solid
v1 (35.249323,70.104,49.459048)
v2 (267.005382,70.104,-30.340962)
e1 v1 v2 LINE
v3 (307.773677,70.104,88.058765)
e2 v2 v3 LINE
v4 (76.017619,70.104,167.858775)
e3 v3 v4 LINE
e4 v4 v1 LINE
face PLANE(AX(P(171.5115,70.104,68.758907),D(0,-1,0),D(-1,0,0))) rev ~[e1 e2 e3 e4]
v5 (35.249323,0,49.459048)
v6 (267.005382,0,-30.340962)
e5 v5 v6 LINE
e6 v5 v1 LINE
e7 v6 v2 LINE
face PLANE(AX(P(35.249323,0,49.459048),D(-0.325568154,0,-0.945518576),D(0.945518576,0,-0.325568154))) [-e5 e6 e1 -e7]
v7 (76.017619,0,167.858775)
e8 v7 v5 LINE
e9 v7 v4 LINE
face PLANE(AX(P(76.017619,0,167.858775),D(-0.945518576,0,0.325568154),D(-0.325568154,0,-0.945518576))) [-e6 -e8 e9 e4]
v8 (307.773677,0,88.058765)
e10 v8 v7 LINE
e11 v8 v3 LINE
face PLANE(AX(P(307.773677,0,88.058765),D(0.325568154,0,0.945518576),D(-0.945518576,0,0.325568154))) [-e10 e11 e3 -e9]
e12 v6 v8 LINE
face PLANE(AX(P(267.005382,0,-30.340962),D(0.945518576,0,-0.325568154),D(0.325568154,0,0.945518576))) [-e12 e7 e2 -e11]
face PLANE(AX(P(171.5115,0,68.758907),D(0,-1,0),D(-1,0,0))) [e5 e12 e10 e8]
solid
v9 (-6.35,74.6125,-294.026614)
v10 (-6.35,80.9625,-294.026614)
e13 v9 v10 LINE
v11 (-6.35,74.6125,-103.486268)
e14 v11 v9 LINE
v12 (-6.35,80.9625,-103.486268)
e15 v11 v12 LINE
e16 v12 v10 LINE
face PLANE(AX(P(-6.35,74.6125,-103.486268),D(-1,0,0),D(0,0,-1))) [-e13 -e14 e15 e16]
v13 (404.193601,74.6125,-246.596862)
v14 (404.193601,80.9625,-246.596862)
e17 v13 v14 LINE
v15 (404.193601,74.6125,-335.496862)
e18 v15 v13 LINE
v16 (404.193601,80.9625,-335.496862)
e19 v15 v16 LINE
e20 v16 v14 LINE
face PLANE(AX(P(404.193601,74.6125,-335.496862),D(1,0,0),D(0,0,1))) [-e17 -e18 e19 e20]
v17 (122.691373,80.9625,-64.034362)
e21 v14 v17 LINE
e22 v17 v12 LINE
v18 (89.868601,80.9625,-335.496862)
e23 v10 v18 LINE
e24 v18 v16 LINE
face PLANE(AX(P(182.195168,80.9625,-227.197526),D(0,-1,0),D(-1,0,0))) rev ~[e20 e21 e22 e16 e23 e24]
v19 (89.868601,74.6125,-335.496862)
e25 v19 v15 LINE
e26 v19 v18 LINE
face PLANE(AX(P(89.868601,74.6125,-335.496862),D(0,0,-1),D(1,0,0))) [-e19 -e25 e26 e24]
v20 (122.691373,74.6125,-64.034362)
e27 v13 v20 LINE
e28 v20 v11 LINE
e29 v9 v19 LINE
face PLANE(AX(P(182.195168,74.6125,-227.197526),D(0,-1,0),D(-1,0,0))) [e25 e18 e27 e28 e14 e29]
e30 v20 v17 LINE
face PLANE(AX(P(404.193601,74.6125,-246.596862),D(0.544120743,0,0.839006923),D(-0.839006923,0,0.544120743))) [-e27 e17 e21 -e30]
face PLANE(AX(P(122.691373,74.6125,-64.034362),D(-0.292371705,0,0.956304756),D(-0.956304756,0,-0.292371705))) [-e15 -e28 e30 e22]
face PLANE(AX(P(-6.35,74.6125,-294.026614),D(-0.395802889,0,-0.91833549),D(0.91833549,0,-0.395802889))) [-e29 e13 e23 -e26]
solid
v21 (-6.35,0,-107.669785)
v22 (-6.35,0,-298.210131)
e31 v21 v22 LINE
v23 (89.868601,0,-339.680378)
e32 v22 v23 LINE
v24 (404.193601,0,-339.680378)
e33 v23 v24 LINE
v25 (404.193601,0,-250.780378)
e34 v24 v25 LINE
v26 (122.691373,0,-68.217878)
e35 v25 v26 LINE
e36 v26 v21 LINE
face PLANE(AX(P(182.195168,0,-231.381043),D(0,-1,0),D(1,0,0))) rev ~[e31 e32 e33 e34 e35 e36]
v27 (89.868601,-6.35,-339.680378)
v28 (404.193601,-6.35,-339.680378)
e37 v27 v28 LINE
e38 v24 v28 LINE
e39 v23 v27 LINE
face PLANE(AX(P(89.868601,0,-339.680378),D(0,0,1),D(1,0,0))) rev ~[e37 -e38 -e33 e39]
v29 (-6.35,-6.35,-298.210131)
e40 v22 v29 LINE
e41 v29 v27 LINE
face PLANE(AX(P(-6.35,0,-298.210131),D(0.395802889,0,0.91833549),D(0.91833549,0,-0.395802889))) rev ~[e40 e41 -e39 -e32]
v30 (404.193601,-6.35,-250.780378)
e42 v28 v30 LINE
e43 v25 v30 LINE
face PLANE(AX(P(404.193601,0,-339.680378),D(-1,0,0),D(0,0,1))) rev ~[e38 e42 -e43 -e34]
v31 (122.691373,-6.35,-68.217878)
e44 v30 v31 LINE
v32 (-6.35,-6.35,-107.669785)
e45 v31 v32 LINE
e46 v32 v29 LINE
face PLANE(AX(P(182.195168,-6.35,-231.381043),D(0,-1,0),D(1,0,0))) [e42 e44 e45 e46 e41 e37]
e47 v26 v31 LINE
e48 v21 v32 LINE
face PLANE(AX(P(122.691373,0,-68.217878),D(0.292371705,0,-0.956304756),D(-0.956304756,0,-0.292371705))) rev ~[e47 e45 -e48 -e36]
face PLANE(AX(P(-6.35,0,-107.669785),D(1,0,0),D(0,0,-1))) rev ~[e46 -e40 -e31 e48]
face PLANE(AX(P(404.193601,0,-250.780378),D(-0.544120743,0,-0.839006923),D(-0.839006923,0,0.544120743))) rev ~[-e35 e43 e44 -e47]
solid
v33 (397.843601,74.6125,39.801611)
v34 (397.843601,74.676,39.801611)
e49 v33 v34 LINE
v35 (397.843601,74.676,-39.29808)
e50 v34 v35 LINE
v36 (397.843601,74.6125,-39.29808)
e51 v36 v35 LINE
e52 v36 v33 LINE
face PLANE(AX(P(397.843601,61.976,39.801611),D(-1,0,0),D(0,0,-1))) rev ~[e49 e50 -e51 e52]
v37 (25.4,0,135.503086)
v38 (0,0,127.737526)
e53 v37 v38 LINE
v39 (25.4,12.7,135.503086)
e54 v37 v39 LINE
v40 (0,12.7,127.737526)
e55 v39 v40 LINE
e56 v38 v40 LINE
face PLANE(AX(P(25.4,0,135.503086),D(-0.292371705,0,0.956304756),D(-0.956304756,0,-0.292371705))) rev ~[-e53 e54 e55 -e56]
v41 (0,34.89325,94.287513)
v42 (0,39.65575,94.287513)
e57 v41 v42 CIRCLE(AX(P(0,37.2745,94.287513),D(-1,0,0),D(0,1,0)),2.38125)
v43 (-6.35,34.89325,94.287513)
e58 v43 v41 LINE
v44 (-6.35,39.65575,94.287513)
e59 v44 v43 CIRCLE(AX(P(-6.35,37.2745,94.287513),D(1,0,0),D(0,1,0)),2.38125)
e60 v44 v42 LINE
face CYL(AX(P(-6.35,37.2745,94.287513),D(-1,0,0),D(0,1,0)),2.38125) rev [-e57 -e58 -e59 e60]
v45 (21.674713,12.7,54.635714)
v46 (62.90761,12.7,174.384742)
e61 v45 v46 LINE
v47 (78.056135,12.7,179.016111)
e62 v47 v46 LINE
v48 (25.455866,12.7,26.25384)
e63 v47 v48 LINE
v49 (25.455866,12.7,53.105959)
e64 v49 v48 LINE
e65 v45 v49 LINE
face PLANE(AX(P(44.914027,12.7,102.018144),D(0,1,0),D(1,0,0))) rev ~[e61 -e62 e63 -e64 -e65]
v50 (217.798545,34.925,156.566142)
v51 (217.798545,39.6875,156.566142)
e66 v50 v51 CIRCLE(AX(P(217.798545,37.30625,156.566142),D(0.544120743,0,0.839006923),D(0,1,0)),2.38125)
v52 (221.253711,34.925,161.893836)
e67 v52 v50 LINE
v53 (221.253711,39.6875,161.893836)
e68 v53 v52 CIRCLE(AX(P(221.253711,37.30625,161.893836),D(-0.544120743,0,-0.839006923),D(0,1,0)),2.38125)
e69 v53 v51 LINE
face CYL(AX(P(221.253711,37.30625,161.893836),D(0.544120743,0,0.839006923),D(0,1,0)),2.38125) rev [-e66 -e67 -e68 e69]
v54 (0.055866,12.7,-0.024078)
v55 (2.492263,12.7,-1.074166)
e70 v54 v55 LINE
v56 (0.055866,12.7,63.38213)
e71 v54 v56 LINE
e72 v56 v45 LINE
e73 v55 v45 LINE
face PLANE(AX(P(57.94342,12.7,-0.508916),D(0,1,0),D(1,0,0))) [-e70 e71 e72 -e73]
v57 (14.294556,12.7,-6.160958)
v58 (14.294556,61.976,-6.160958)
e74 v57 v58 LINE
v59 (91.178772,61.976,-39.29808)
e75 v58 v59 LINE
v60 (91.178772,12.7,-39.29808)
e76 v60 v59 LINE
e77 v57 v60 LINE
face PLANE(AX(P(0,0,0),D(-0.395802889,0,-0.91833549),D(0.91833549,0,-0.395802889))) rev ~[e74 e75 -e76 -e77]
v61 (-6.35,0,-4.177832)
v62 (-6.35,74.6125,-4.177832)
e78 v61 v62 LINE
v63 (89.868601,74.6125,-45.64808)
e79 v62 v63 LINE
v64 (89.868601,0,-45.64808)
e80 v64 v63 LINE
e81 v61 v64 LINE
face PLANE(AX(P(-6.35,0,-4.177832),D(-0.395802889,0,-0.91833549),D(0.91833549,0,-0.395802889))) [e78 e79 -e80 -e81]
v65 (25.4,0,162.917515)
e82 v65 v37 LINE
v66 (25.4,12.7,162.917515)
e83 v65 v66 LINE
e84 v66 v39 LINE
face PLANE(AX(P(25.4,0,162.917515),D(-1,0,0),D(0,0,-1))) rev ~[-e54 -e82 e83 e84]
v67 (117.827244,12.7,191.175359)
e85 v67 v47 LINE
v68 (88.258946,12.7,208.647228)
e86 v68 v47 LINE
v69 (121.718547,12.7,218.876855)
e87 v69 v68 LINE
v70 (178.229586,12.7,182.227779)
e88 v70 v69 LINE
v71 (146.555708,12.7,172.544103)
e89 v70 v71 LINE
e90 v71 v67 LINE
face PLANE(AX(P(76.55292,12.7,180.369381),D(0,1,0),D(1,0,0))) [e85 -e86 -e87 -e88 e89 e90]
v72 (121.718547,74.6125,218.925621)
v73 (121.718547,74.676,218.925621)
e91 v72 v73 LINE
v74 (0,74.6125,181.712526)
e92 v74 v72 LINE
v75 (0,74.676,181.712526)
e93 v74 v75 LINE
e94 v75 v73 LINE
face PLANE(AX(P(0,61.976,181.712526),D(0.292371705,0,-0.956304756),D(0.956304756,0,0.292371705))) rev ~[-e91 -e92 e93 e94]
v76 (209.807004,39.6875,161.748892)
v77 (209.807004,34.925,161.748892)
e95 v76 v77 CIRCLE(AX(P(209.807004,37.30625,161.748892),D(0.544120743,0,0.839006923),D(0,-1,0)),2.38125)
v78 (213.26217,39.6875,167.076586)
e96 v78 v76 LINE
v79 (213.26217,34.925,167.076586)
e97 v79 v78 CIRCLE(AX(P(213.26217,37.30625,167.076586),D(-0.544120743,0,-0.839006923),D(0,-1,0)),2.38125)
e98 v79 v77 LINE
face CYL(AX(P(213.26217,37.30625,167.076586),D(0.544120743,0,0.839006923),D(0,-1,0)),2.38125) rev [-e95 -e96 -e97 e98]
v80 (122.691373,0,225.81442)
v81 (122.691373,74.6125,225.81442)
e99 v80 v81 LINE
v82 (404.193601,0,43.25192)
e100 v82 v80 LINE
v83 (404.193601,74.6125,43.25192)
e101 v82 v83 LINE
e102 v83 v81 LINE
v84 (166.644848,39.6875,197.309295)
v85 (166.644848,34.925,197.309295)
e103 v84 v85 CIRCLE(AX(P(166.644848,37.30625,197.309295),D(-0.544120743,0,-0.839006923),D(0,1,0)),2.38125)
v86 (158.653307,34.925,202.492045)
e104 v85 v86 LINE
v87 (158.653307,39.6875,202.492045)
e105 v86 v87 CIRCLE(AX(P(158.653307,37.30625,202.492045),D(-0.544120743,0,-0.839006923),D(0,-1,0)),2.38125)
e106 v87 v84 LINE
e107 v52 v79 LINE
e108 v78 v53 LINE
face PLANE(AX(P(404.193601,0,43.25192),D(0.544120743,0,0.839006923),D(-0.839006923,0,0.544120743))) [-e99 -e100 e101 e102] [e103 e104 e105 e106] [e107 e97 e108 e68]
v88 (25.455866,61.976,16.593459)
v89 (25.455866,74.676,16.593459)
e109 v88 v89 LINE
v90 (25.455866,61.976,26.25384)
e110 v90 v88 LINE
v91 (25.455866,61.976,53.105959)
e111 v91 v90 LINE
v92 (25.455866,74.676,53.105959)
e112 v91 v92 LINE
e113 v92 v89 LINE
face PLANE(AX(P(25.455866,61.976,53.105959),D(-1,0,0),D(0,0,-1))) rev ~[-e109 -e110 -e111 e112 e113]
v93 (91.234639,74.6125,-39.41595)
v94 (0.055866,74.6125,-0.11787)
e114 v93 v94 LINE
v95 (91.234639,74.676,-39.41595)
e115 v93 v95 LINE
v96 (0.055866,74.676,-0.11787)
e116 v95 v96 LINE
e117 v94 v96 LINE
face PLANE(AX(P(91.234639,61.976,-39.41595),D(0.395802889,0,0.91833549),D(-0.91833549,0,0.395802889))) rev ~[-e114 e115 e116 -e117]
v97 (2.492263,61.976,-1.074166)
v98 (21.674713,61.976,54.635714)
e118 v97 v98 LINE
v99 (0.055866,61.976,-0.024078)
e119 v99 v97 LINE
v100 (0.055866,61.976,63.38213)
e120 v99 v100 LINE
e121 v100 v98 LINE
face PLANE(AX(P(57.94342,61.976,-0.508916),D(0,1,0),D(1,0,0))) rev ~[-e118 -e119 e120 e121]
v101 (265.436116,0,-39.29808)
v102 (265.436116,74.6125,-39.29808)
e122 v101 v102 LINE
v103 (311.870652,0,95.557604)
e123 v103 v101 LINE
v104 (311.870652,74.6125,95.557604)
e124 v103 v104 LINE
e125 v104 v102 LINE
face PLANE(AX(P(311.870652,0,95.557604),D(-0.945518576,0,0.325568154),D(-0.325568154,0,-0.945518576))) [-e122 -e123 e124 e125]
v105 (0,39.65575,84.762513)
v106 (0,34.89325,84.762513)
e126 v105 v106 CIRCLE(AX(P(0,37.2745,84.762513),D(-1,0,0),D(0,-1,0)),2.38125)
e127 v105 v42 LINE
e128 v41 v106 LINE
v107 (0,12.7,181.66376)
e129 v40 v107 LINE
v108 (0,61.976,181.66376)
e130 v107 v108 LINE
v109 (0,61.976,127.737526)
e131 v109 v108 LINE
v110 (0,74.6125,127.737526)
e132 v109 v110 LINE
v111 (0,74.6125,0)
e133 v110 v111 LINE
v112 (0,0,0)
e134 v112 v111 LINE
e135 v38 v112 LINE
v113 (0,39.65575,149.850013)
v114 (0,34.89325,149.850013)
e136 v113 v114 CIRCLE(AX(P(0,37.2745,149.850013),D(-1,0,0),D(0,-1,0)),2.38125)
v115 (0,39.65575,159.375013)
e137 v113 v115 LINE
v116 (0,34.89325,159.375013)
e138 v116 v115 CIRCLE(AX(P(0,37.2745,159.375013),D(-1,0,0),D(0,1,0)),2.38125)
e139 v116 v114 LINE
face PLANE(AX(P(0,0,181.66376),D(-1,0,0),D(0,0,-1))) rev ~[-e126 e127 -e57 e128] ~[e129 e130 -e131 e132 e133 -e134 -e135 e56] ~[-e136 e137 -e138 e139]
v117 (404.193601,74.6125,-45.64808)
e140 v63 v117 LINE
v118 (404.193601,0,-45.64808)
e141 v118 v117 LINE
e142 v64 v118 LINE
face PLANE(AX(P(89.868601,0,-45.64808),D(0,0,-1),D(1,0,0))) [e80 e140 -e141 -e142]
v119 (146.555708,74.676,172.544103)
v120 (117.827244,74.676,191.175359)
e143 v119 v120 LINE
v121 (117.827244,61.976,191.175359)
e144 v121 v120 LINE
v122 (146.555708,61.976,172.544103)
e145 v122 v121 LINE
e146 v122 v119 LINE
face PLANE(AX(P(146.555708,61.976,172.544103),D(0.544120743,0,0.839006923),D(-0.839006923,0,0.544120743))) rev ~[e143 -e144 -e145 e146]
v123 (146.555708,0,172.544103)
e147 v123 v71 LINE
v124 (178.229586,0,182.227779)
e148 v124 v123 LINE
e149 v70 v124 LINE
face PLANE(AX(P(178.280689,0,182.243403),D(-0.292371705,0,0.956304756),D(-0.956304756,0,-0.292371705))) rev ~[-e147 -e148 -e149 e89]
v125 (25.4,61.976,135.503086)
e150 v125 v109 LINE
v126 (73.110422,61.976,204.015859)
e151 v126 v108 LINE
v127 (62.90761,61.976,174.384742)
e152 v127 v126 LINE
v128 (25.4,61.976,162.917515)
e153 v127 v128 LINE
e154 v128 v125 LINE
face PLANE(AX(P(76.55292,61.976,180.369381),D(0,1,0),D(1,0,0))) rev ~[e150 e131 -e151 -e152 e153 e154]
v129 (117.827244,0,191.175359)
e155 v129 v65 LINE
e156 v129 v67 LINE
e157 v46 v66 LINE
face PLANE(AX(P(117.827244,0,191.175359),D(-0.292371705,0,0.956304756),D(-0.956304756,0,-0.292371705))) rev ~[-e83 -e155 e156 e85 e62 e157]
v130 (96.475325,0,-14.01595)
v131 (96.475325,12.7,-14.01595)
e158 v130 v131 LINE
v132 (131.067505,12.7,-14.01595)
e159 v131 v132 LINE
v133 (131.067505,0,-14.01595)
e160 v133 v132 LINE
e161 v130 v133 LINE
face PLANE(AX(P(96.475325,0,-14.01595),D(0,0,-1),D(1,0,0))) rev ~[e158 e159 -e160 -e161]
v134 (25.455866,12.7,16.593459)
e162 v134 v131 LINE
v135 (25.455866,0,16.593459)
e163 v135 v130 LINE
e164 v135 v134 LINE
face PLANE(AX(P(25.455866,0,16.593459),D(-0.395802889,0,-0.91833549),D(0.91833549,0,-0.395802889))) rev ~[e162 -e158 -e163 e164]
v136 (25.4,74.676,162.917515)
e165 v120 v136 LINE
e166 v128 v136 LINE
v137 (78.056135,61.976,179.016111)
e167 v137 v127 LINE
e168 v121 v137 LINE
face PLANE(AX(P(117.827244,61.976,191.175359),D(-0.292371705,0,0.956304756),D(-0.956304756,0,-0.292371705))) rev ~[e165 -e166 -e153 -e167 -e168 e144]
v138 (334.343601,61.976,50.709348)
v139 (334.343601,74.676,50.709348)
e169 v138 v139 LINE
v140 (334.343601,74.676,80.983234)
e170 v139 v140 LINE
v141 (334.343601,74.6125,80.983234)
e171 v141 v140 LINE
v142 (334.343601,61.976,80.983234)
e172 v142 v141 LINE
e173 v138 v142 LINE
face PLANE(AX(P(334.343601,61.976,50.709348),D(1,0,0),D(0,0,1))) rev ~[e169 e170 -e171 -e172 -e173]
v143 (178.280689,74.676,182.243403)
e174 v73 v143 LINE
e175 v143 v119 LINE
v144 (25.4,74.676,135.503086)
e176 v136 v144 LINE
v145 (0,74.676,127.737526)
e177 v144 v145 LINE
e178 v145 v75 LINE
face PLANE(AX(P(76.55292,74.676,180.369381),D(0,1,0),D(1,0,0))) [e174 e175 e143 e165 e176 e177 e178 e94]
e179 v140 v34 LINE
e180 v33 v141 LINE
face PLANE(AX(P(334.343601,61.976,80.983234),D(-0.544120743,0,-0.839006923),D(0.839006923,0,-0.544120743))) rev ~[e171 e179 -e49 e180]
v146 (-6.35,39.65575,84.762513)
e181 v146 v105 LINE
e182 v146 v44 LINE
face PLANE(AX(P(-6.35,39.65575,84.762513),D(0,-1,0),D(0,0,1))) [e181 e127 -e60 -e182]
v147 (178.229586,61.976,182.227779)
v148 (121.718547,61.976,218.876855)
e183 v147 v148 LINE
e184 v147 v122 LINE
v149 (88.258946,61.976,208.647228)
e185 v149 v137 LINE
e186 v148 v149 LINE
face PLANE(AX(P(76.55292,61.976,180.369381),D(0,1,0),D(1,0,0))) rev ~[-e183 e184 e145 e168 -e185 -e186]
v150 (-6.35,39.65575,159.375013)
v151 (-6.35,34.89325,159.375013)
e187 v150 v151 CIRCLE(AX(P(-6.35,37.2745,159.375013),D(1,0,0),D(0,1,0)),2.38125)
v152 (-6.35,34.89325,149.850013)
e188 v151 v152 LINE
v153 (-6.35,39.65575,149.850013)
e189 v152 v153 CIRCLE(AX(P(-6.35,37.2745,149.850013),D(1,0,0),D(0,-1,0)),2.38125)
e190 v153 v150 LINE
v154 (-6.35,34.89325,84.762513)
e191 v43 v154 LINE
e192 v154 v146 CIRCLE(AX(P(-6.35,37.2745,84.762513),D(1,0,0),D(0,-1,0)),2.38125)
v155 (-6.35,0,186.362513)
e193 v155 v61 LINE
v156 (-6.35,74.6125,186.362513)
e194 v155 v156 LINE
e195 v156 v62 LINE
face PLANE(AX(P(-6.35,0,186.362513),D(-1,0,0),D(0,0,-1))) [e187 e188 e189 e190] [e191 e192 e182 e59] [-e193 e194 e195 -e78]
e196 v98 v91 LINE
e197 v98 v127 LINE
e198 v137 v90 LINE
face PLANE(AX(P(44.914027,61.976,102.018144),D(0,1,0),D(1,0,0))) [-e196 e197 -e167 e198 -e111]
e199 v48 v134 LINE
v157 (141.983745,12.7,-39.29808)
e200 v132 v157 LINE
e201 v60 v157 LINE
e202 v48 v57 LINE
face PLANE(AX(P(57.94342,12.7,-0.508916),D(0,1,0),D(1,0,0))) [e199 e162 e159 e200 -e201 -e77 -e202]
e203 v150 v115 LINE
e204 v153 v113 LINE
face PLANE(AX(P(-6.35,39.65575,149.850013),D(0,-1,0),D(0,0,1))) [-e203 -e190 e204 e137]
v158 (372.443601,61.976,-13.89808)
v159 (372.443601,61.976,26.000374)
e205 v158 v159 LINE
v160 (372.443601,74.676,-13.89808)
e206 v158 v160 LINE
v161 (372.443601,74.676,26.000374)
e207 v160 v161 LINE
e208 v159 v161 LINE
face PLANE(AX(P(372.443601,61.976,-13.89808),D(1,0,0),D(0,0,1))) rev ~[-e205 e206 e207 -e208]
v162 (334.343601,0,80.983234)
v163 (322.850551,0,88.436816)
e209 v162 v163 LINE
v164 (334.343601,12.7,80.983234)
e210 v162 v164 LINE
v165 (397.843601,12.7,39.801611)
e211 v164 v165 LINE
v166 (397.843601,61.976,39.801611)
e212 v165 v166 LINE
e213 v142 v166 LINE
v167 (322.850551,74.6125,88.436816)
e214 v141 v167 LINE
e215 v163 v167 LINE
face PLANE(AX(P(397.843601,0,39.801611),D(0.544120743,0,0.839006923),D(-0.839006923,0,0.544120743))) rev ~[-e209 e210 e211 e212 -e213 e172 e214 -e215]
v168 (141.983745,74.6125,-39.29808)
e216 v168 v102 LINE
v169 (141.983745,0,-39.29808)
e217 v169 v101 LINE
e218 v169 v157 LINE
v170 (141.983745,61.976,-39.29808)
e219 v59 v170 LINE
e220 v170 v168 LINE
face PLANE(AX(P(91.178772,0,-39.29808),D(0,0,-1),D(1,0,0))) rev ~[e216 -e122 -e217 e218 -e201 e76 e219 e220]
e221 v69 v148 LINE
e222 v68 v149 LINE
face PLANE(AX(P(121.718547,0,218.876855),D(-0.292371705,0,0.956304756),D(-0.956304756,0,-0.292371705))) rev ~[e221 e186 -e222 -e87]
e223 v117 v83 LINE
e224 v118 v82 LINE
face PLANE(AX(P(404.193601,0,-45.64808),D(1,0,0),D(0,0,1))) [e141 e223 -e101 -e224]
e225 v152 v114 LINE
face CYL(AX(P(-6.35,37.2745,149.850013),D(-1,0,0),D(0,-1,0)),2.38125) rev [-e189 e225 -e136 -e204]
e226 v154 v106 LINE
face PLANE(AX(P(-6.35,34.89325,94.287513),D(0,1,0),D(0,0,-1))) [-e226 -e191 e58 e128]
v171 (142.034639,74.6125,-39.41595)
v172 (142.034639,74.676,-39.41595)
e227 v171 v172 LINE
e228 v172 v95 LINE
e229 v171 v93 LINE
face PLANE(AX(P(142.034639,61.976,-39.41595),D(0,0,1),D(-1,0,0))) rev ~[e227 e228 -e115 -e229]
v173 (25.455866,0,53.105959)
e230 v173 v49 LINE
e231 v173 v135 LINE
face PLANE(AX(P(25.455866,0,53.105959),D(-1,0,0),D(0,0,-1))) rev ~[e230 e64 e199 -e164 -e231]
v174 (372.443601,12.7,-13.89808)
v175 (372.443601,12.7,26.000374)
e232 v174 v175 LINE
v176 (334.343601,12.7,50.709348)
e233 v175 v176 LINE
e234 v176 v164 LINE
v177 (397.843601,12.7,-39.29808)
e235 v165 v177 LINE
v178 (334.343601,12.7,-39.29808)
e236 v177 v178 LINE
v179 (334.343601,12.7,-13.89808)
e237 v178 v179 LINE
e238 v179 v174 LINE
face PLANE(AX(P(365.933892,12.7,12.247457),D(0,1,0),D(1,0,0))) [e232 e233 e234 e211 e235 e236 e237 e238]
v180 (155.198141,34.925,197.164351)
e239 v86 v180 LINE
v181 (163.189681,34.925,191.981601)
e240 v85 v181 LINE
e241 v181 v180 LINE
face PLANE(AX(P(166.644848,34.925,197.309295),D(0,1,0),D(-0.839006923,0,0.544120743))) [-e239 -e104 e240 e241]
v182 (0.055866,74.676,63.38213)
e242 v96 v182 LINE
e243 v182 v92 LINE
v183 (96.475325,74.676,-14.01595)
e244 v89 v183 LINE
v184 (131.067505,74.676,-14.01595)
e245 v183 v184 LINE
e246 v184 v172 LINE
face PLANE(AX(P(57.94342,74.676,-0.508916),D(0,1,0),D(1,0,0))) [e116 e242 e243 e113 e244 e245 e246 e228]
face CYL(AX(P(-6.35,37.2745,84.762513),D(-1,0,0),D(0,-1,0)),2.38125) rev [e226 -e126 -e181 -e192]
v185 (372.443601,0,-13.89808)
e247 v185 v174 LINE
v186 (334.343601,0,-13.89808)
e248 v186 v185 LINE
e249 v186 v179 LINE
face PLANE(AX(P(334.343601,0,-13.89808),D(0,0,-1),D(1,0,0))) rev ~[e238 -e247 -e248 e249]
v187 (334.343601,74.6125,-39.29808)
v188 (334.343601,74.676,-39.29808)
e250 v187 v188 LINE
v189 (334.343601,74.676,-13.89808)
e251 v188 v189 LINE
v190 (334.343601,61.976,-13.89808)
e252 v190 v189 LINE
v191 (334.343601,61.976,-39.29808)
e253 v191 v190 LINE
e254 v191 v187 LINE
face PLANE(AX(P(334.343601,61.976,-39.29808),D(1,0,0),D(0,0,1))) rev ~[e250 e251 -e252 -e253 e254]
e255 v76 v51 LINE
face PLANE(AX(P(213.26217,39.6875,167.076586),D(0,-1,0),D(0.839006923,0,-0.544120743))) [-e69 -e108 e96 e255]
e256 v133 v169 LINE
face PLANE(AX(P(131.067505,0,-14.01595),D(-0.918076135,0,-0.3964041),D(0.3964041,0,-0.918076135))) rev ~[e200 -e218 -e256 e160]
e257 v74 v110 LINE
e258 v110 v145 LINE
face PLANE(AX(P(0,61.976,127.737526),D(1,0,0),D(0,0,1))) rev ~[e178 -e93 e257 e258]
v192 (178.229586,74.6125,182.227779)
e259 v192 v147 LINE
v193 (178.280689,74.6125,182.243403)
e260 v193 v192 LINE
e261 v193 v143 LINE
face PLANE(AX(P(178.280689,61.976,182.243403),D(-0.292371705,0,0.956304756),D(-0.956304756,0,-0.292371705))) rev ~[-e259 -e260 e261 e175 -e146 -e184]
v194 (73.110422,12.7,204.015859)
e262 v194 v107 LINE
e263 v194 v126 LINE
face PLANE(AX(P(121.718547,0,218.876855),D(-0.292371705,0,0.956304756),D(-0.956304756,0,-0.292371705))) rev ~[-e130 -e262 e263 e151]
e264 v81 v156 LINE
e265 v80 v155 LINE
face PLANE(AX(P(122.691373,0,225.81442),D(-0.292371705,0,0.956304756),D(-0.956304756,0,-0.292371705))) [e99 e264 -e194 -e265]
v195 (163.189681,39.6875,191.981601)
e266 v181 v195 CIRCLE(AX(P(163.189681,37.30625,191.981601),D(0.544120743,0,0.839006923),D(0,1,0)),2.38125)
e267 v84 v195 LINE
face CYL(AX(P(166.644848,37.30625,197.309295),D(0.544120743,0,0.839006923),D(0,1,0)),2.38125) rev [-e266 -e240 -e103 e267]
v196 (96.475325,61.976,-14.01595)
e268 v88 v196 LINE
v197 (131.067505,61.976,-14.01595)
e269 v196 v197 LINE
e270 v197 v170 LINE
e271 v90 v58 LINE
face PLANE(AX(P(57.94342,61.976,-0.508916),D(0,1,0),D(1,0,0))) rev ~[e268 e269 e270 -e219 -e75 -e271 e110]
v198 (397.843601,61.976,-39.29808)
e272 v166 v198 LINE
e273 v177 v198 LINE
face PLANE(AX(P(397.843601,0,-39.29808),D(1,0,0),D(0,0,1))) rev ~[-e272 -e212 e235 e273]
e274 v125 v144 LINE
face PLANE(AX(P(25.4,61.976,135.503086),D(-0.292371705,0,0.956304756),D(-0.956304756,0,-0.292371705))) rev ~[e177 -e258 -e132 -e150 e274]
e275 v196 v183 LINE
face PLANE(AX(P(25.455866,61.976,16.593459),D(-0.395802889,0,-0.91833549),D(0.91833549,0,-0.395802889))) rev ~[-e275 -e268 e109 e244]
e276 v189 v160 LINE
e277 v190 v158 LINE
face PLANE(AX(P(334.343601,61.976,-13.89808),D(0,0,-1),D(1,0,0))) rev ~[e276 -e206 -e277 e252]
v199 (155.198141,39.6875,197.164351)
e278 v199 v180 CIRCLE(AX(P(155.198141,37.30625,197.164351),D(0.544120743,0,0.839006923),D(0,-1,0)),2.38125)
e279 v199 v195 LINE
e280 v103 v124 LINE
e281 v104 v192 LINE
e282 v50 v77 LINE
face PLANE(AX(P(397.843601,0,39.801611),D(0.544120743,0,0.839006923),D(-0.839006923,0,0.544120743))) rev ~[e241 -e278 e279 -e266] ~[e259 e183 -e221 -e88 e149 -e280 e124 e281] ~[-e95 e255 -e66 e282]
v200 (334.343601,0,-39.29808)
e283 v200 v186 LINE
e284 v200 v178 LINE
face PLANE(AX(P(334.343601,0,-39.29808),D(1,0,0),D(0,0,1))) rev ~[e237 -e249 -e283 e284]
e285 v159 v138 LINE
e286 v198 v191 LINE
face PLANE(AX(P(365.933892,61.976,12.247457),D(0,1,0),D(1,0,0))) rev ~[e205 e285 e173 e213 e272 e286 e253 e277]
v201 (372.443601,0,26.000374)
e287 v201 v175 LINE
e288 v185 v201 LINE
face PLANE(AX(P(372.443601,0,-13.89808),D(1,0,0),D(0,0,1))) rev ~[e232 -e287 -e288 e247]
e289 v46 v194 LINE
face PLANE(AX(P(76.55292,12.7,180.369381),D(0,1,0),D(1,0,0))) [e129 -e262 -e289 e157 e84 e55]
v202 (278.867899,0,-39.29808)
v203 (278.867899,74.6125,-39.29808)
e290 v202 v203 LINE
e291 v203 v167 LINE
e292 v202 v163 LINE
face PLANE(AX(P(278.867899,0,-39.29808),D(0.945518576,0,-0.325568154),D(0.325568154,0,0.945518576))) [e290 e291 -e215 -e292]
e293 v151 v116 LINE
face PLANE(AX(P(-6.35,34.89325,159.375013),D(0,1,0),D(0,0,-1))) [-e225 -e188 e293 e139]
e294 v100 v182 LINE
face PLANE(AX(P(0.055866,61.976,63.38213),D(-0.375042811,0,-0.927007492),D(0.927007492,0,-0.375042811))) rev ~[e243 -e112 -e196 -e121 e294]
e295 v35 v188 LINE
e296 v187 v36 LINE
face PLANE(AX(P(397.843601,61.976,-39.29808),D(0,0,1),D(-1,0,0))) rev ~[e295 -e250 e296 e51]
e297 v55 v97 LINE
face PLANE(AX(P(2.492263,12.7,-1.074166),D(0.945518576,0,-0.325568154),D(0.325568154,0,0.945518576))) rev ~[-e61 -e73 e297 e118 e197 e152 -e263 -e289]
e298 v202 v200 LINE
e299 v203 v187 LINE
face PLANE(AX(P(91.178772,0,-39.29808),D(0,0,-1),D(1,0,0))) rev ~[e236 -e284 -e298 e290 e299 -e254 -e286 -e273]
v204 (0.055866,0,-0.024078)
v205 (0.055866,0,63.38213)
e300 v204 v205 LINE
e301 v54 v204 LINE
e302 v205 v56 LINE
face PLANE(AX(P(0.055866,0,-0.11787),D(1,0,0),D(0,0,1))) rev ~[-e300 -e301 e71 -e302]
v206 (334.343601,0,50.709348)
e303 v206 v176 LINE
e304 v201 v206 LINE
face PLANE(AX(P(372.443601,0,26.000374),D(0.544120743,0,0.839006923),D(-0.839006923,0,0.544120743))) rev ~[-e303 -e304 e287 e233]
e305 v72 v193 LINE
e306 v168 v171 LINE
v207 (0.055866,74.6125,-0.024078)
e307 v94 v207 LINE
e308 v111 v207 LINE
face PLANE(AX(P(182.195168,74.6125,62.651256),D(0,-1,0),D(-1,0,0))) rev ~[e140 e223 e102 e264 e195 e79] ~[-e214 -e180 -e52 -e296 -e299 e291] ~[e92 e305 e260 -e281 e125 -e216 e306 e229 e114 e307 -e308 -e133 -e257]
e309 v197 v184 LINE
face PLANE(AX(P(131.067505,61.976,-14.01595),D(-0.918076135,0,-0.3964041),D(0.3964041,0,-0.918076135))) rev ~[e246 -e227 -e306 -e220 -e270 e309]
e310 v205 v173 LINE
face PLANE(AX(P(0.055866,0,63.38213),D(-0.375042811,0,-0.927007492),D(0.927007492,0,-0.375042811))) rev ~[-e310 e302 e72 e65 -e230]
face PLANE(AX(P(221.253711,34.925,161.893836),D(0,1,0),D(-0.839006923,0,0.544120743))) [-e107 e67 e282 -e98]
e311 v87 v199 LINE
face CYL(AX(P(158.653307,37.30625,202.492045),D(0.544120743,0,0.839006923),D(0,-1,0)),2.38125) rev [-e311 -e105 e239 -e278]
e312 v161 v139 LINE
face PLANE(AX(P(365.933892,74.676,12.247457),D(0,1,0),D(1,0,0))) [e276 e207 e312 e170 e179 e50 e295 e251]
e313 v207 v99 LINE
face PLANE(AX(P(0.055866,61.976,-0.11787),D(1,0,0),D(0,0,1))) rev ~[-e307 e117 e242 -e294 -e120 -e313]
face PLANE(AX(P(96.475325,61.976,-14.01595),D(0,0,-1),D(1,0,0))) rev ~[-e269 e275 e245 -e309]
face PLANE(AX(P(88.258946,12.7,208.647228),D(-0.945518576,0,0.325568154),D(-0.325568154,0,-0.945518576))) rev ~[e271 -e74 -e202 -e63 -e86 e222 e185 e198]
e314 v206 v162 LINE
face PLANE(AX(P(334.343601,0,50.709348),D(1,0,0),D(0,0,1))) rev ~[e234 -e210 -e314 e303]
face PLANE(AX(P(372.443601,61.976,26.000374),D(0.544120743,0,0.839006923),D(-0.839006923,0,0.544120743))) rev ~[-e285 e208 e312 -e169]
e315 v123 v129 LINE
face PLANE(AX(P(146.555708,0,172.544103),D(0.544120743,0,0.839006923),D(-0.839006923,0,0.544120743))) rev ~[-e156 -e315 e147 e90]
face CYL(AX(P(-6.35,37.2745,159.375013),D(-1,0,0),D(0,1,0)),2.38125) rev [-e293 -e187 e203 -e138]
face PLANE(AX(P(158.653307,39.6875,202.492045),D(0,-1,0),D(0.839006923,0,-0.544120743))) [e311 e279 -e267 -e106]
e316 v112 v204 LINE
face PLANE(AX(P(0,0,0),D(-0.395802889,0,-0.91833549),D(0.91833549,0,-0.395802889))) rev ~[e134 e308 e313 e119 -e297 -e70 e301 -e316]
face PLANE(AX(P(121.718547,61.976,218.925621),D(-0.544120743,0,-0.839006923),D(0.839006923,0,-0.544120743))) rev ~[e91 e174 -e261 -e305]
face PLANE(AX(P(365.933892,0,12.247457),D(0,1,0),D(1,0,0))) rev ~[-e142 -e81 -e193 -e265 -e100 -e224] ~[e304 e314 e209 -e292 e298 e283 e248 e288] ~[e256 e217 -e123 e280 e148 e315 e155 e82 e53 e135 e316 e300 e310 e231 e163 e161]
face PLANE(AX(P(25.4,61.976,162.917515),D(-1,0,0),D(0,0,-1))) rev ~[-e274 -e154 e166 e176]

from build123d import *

# Parameters (mm, degrees)
BOSS_EXTRUDE1_DEPTH = 74.6125
BOSS_EXTRUDE2_DEPTH = 70.104
BOSS_EXTRUDE3_DEPTH = 12.7
BOSS_EXTRUDE4_DEPTH = 12.7
BOSS_EXTRUDE5_DEPTH = 12.7
LPATTERN2_COUNT     = 2
LPATTERN2_PITCH     = 61.976
LPATTERN3_COUNT     = 2
LPATTERN3_PITCH     = 61.976
LPATTERN4_COUNT     = 2
LPATTERN4_PITCH     = 61.976
CUT_EXTRUDE1_DEPTH  = 6.604
CUT_EXTRUDE2_DEPTH  = 6.604
BOSS_EXTRUDE6_DEPTH = 74.6125
BOSS_EXTRUDE7_DEPTH = 49.276
BOSS_EXTRUDE8_DEPTH = 6.35
BOSS_EXTRUDE9_DEPTH = 6.35


with BuildPart() as part:
    # Sketch1 → Boss-Extrude1 (new body)
    with BuildSketch(Plane(origin=(0, 0, 0), x_dir=(1, 0, 0), z_dir=(0, 1, 0))):
        Polygon((89.868600995, 45.648080015), (404.193600995, 45.648080015), (404.193600995, -43.251919985), (122.691373008, -225.814419985), (-6.35, -186.362513079), (-6.35, 4.177832277), align=None)
        Polygon((0, 0), (91.178772423, 39.298080015), (397.843600995, 39.298080015), (397.843600995, -39.801610813), (121.718547276, -218.876854657), (0, -181.663760252), align=None, mode=Mode.SUBTRACT)
    extrude(amount=BOSS_EXTRUDE1_DEPTH)

    # Sketch6 → Boss-Extrude3 (add)
    with BuildSketch(Plane(origin=(-0.579421474, 0, -0.117869918), x_dir=(1, 0, 0), z_dir=(0, 1, 0))):
        Polygon((91.814060346, 39.298080015), (0.635287923, 0), (0.635287923, -63.5), (26.035287923, -53.223829107), (26.035287923, -16.711329107), (97.054746056, 13.898080015), (131.646926177, 13.898080015), (142.614060346, 39.298080015), align=None)
    boss_extrude3 = extrude(amount=BOSS_EXTRUDE3_DEPTH)

    # Sketch8 → Boss-Extrude4 (add)
    with BuildSketch(Plane(origin=(0, 0, -81.231233885), x_dir=(1, 0, 0), z_dir=(0, 1, 0))):
        Polygon((0, -262.943760252), (121.718547276, -300.156854657), (178.280689217, -263.474636858), (146.55570838, -253.775336847), (117.827244348, -272.406593346), (25.4, -244.148748947), (25.4, -216.734319561), (0, -208.968760252), align=None)
    boss_extrude4 = extrude(amount=BOSS_EXTRUDE4_DEPTH)

    # Sketch9 → Boss-Extrude5 (add)
    with BuildSketch(Plane(origin=(0, 0, 0), x_dir=(1, 0, 0), z_dir=(0, 1, 0))):
        Polygon((397.843600995, 39.298080015), (334.343600995, 39.298080015), (334.343600995, 13.898080015), (372.443600995, 13.898080015), (372.443600995, -26.000374123), (334.343600995, -50.709348186), (334.343600995, -80.983234251), (397.843600995, -39.801610813), align=None)
    boss_extrude5 = extrude(amount=BOSS_EXTRUDE5_DEPTH)

    # LPattern2: Boss-Extrude3 ×2
    with Locations(*[(0, i * LPATTERN2_PITCH, 0) for i in range(1, LPATTERN2_COUNT)]):
        add(boss_extrude3)

    # LPattern3: Boss-Extrude4 ×2
    with Locations(*[(0, i * LPATTERN3_PITCH, 0) for i in range(1, LPATTERN3_COUNT)]):
        add(boss_extrude4)

    # LPattern4: Boss-Extrude5 ×2
    with Locations(*[(0, i * LPATTERN4_PITCH, 0) for i in range(1, LPATTERN4_COUNT)]):
        add(boss_extrude5)

    # Sketch12 → Cut-Extrude1 (cut)
    with BuildSketch(Plane(origin=(139.41395441, 0, 214.96933258), x_dir=(0.8390069231931274, 0, -0.5441207428815794), z_dir=(0.5441207428815794, 0, 0.8390069231931274))):
        with BuildLine():
            Line((22.931101414, 39.6875), (32.456101414, 39.6875))
            ThreePointArc((32.456101414, 39.6875), (34.837351414, 37.30625), (32.456101414, 34.925))
            Line((32.456101414, 34.925), (22.931101414, 34.925))
            ThreePointArc((22.931101414, 34.925), (20.549851414, 37.30625), (22.931101414, 39.6875))
        make_face()
        with BuildLine():
            Line((88.018601414, 39.6875), (97.543601414, 39.6875))
            ThreePointArc((97.543601414, 39.6875), (99.924851414, 37.30625), (97.543601414, 34.925))
            Line((97.543601414, 34.925), (88.018601414, 34.925))
            ThreePointArc((88.018601414, 34.925), (85.637351414, 37.30625), (88.018601414, 39.6875))
        make_face()
    extrude(amount=-CUT_EXTRUDE1_DEPTH, mode=Mode.SUBTRACT)

    # Sketch14 → Cut-Extrude2 (cut)
    with BuildSketch(Plane.ZY.offset(6.35)):
        with BuildLine():
            Line((149.850013079, 39.65575), (159.375013079, 39.65575))
            ThreePointArc((159.375013079, 39.65575), (161.756263079, 37.2745), (159.375013079, 34.89325))
            Line((159.375013079, 34.89325), (149.850013079, 34.89325))
            ThreePointArc((149.850013079, 34.89325), (147.468763079, 37.2745), (149.850013079, 39.65575))
        make_face()
        with BuildLine():
            Line((84.762513079, 39.65575), (94.287513079, 39.65575))
            ThreePointArc((94.287513079, 39.65575), (96.668763079, 37.2745), (94.287513079, 34.89325))
            Line((94.287513079, 34.89325), (84.762513079, 34.89325))
            ThreePointArc((84.762513079, 34.89325), (82.381263079, 37.2745), (84.762513079, 39.65575))
        make_face()
    extrude(amount=-CUT_EXTRUDE2_DEPTH, mode=Mode.SUBTRACT)

    # Sketch15 → Boss-Extrude6 (add)
    with BuildSketch(Plane(origin=(0, 0, 0), x_dir=(1, 0, 0), z_dir=(0, 1, 0))):
        Polygon((311.870652445, -95.557604404), (265.43611649, 39.298080015), (278.867899141, 39.298080015), (322.850551087, -88.436816195), align=None)
    extrude(amount=BOSS_EXTRUDE6_DEPTH)

    # Sketch17 → Boss-Extrude7 (add)
    with BuildSketch(Plane(origin=(0, 12.7, 0), x_dir=(1, 0, 0), z_dir=(0, 1, 0))):
        Polygon((88.258946348, -208.647228064), (14.294556224, 6.160958295), (2.492263114, 1.074166197), (73.11042215, -204.015859438), align=None)
    extrude(amount=BOSS_EXTRUDE7_DEPTH)


with BuildPart() as body_2:
    # Sketch2 → Boss-Extrude2 (new body)
    with BuildSketch(Plane(origin=(52.712309054, 0, 182.271693664), x_dir=(1, 0, 0), z_dir=(0, 1, 0))):
        Polygon((-17.462985573, 132.812645381), (214.293072493, 212.61265572), (255.06136793, 94.212928646), (23.305309865, 14.412918307), align=None)
    extrude(amount=BOSS_EXTRUDE2_DEPTH)


with BuildPart() as body_3:
    # Sketch18 → Boss-Extrude8 (new body)
    with BuildSketch(Plane(origin=(0, 74.6125, 0), x_dir=(1, 0, 0), z_dir=(0, 1, 0))):
        Polygon((404.193600995, 246.596861523), (122.691373008, 64.034361523), (-6.35, 103.486268429), (-6.35, 294.026613784), (89.868600995, 335.496861523), (404.193600995, 335.496861523), align=None)
    extrude(amount=BOSS_EXTRUDE8_DEPTH)


with BuildPart() as body_4:
    # Sketch19 → Boss-Extrude9 (new body)
    with BuildSketch(Plane.XZ):
        Polygon((122.691373008, -68.217878295), (-6.35, -107.669785201), (-6.35, -298.210130556), (89.868600995, -339.680378295), (404.193600995, -339.680378295), (404.193600995, -250.780378295), align=None)
    extrude(amount=BOSS_EXTRUDE9_DEPTH)


solid = Compound([part.part, body_2.part, body_3.part, body_4.part])
